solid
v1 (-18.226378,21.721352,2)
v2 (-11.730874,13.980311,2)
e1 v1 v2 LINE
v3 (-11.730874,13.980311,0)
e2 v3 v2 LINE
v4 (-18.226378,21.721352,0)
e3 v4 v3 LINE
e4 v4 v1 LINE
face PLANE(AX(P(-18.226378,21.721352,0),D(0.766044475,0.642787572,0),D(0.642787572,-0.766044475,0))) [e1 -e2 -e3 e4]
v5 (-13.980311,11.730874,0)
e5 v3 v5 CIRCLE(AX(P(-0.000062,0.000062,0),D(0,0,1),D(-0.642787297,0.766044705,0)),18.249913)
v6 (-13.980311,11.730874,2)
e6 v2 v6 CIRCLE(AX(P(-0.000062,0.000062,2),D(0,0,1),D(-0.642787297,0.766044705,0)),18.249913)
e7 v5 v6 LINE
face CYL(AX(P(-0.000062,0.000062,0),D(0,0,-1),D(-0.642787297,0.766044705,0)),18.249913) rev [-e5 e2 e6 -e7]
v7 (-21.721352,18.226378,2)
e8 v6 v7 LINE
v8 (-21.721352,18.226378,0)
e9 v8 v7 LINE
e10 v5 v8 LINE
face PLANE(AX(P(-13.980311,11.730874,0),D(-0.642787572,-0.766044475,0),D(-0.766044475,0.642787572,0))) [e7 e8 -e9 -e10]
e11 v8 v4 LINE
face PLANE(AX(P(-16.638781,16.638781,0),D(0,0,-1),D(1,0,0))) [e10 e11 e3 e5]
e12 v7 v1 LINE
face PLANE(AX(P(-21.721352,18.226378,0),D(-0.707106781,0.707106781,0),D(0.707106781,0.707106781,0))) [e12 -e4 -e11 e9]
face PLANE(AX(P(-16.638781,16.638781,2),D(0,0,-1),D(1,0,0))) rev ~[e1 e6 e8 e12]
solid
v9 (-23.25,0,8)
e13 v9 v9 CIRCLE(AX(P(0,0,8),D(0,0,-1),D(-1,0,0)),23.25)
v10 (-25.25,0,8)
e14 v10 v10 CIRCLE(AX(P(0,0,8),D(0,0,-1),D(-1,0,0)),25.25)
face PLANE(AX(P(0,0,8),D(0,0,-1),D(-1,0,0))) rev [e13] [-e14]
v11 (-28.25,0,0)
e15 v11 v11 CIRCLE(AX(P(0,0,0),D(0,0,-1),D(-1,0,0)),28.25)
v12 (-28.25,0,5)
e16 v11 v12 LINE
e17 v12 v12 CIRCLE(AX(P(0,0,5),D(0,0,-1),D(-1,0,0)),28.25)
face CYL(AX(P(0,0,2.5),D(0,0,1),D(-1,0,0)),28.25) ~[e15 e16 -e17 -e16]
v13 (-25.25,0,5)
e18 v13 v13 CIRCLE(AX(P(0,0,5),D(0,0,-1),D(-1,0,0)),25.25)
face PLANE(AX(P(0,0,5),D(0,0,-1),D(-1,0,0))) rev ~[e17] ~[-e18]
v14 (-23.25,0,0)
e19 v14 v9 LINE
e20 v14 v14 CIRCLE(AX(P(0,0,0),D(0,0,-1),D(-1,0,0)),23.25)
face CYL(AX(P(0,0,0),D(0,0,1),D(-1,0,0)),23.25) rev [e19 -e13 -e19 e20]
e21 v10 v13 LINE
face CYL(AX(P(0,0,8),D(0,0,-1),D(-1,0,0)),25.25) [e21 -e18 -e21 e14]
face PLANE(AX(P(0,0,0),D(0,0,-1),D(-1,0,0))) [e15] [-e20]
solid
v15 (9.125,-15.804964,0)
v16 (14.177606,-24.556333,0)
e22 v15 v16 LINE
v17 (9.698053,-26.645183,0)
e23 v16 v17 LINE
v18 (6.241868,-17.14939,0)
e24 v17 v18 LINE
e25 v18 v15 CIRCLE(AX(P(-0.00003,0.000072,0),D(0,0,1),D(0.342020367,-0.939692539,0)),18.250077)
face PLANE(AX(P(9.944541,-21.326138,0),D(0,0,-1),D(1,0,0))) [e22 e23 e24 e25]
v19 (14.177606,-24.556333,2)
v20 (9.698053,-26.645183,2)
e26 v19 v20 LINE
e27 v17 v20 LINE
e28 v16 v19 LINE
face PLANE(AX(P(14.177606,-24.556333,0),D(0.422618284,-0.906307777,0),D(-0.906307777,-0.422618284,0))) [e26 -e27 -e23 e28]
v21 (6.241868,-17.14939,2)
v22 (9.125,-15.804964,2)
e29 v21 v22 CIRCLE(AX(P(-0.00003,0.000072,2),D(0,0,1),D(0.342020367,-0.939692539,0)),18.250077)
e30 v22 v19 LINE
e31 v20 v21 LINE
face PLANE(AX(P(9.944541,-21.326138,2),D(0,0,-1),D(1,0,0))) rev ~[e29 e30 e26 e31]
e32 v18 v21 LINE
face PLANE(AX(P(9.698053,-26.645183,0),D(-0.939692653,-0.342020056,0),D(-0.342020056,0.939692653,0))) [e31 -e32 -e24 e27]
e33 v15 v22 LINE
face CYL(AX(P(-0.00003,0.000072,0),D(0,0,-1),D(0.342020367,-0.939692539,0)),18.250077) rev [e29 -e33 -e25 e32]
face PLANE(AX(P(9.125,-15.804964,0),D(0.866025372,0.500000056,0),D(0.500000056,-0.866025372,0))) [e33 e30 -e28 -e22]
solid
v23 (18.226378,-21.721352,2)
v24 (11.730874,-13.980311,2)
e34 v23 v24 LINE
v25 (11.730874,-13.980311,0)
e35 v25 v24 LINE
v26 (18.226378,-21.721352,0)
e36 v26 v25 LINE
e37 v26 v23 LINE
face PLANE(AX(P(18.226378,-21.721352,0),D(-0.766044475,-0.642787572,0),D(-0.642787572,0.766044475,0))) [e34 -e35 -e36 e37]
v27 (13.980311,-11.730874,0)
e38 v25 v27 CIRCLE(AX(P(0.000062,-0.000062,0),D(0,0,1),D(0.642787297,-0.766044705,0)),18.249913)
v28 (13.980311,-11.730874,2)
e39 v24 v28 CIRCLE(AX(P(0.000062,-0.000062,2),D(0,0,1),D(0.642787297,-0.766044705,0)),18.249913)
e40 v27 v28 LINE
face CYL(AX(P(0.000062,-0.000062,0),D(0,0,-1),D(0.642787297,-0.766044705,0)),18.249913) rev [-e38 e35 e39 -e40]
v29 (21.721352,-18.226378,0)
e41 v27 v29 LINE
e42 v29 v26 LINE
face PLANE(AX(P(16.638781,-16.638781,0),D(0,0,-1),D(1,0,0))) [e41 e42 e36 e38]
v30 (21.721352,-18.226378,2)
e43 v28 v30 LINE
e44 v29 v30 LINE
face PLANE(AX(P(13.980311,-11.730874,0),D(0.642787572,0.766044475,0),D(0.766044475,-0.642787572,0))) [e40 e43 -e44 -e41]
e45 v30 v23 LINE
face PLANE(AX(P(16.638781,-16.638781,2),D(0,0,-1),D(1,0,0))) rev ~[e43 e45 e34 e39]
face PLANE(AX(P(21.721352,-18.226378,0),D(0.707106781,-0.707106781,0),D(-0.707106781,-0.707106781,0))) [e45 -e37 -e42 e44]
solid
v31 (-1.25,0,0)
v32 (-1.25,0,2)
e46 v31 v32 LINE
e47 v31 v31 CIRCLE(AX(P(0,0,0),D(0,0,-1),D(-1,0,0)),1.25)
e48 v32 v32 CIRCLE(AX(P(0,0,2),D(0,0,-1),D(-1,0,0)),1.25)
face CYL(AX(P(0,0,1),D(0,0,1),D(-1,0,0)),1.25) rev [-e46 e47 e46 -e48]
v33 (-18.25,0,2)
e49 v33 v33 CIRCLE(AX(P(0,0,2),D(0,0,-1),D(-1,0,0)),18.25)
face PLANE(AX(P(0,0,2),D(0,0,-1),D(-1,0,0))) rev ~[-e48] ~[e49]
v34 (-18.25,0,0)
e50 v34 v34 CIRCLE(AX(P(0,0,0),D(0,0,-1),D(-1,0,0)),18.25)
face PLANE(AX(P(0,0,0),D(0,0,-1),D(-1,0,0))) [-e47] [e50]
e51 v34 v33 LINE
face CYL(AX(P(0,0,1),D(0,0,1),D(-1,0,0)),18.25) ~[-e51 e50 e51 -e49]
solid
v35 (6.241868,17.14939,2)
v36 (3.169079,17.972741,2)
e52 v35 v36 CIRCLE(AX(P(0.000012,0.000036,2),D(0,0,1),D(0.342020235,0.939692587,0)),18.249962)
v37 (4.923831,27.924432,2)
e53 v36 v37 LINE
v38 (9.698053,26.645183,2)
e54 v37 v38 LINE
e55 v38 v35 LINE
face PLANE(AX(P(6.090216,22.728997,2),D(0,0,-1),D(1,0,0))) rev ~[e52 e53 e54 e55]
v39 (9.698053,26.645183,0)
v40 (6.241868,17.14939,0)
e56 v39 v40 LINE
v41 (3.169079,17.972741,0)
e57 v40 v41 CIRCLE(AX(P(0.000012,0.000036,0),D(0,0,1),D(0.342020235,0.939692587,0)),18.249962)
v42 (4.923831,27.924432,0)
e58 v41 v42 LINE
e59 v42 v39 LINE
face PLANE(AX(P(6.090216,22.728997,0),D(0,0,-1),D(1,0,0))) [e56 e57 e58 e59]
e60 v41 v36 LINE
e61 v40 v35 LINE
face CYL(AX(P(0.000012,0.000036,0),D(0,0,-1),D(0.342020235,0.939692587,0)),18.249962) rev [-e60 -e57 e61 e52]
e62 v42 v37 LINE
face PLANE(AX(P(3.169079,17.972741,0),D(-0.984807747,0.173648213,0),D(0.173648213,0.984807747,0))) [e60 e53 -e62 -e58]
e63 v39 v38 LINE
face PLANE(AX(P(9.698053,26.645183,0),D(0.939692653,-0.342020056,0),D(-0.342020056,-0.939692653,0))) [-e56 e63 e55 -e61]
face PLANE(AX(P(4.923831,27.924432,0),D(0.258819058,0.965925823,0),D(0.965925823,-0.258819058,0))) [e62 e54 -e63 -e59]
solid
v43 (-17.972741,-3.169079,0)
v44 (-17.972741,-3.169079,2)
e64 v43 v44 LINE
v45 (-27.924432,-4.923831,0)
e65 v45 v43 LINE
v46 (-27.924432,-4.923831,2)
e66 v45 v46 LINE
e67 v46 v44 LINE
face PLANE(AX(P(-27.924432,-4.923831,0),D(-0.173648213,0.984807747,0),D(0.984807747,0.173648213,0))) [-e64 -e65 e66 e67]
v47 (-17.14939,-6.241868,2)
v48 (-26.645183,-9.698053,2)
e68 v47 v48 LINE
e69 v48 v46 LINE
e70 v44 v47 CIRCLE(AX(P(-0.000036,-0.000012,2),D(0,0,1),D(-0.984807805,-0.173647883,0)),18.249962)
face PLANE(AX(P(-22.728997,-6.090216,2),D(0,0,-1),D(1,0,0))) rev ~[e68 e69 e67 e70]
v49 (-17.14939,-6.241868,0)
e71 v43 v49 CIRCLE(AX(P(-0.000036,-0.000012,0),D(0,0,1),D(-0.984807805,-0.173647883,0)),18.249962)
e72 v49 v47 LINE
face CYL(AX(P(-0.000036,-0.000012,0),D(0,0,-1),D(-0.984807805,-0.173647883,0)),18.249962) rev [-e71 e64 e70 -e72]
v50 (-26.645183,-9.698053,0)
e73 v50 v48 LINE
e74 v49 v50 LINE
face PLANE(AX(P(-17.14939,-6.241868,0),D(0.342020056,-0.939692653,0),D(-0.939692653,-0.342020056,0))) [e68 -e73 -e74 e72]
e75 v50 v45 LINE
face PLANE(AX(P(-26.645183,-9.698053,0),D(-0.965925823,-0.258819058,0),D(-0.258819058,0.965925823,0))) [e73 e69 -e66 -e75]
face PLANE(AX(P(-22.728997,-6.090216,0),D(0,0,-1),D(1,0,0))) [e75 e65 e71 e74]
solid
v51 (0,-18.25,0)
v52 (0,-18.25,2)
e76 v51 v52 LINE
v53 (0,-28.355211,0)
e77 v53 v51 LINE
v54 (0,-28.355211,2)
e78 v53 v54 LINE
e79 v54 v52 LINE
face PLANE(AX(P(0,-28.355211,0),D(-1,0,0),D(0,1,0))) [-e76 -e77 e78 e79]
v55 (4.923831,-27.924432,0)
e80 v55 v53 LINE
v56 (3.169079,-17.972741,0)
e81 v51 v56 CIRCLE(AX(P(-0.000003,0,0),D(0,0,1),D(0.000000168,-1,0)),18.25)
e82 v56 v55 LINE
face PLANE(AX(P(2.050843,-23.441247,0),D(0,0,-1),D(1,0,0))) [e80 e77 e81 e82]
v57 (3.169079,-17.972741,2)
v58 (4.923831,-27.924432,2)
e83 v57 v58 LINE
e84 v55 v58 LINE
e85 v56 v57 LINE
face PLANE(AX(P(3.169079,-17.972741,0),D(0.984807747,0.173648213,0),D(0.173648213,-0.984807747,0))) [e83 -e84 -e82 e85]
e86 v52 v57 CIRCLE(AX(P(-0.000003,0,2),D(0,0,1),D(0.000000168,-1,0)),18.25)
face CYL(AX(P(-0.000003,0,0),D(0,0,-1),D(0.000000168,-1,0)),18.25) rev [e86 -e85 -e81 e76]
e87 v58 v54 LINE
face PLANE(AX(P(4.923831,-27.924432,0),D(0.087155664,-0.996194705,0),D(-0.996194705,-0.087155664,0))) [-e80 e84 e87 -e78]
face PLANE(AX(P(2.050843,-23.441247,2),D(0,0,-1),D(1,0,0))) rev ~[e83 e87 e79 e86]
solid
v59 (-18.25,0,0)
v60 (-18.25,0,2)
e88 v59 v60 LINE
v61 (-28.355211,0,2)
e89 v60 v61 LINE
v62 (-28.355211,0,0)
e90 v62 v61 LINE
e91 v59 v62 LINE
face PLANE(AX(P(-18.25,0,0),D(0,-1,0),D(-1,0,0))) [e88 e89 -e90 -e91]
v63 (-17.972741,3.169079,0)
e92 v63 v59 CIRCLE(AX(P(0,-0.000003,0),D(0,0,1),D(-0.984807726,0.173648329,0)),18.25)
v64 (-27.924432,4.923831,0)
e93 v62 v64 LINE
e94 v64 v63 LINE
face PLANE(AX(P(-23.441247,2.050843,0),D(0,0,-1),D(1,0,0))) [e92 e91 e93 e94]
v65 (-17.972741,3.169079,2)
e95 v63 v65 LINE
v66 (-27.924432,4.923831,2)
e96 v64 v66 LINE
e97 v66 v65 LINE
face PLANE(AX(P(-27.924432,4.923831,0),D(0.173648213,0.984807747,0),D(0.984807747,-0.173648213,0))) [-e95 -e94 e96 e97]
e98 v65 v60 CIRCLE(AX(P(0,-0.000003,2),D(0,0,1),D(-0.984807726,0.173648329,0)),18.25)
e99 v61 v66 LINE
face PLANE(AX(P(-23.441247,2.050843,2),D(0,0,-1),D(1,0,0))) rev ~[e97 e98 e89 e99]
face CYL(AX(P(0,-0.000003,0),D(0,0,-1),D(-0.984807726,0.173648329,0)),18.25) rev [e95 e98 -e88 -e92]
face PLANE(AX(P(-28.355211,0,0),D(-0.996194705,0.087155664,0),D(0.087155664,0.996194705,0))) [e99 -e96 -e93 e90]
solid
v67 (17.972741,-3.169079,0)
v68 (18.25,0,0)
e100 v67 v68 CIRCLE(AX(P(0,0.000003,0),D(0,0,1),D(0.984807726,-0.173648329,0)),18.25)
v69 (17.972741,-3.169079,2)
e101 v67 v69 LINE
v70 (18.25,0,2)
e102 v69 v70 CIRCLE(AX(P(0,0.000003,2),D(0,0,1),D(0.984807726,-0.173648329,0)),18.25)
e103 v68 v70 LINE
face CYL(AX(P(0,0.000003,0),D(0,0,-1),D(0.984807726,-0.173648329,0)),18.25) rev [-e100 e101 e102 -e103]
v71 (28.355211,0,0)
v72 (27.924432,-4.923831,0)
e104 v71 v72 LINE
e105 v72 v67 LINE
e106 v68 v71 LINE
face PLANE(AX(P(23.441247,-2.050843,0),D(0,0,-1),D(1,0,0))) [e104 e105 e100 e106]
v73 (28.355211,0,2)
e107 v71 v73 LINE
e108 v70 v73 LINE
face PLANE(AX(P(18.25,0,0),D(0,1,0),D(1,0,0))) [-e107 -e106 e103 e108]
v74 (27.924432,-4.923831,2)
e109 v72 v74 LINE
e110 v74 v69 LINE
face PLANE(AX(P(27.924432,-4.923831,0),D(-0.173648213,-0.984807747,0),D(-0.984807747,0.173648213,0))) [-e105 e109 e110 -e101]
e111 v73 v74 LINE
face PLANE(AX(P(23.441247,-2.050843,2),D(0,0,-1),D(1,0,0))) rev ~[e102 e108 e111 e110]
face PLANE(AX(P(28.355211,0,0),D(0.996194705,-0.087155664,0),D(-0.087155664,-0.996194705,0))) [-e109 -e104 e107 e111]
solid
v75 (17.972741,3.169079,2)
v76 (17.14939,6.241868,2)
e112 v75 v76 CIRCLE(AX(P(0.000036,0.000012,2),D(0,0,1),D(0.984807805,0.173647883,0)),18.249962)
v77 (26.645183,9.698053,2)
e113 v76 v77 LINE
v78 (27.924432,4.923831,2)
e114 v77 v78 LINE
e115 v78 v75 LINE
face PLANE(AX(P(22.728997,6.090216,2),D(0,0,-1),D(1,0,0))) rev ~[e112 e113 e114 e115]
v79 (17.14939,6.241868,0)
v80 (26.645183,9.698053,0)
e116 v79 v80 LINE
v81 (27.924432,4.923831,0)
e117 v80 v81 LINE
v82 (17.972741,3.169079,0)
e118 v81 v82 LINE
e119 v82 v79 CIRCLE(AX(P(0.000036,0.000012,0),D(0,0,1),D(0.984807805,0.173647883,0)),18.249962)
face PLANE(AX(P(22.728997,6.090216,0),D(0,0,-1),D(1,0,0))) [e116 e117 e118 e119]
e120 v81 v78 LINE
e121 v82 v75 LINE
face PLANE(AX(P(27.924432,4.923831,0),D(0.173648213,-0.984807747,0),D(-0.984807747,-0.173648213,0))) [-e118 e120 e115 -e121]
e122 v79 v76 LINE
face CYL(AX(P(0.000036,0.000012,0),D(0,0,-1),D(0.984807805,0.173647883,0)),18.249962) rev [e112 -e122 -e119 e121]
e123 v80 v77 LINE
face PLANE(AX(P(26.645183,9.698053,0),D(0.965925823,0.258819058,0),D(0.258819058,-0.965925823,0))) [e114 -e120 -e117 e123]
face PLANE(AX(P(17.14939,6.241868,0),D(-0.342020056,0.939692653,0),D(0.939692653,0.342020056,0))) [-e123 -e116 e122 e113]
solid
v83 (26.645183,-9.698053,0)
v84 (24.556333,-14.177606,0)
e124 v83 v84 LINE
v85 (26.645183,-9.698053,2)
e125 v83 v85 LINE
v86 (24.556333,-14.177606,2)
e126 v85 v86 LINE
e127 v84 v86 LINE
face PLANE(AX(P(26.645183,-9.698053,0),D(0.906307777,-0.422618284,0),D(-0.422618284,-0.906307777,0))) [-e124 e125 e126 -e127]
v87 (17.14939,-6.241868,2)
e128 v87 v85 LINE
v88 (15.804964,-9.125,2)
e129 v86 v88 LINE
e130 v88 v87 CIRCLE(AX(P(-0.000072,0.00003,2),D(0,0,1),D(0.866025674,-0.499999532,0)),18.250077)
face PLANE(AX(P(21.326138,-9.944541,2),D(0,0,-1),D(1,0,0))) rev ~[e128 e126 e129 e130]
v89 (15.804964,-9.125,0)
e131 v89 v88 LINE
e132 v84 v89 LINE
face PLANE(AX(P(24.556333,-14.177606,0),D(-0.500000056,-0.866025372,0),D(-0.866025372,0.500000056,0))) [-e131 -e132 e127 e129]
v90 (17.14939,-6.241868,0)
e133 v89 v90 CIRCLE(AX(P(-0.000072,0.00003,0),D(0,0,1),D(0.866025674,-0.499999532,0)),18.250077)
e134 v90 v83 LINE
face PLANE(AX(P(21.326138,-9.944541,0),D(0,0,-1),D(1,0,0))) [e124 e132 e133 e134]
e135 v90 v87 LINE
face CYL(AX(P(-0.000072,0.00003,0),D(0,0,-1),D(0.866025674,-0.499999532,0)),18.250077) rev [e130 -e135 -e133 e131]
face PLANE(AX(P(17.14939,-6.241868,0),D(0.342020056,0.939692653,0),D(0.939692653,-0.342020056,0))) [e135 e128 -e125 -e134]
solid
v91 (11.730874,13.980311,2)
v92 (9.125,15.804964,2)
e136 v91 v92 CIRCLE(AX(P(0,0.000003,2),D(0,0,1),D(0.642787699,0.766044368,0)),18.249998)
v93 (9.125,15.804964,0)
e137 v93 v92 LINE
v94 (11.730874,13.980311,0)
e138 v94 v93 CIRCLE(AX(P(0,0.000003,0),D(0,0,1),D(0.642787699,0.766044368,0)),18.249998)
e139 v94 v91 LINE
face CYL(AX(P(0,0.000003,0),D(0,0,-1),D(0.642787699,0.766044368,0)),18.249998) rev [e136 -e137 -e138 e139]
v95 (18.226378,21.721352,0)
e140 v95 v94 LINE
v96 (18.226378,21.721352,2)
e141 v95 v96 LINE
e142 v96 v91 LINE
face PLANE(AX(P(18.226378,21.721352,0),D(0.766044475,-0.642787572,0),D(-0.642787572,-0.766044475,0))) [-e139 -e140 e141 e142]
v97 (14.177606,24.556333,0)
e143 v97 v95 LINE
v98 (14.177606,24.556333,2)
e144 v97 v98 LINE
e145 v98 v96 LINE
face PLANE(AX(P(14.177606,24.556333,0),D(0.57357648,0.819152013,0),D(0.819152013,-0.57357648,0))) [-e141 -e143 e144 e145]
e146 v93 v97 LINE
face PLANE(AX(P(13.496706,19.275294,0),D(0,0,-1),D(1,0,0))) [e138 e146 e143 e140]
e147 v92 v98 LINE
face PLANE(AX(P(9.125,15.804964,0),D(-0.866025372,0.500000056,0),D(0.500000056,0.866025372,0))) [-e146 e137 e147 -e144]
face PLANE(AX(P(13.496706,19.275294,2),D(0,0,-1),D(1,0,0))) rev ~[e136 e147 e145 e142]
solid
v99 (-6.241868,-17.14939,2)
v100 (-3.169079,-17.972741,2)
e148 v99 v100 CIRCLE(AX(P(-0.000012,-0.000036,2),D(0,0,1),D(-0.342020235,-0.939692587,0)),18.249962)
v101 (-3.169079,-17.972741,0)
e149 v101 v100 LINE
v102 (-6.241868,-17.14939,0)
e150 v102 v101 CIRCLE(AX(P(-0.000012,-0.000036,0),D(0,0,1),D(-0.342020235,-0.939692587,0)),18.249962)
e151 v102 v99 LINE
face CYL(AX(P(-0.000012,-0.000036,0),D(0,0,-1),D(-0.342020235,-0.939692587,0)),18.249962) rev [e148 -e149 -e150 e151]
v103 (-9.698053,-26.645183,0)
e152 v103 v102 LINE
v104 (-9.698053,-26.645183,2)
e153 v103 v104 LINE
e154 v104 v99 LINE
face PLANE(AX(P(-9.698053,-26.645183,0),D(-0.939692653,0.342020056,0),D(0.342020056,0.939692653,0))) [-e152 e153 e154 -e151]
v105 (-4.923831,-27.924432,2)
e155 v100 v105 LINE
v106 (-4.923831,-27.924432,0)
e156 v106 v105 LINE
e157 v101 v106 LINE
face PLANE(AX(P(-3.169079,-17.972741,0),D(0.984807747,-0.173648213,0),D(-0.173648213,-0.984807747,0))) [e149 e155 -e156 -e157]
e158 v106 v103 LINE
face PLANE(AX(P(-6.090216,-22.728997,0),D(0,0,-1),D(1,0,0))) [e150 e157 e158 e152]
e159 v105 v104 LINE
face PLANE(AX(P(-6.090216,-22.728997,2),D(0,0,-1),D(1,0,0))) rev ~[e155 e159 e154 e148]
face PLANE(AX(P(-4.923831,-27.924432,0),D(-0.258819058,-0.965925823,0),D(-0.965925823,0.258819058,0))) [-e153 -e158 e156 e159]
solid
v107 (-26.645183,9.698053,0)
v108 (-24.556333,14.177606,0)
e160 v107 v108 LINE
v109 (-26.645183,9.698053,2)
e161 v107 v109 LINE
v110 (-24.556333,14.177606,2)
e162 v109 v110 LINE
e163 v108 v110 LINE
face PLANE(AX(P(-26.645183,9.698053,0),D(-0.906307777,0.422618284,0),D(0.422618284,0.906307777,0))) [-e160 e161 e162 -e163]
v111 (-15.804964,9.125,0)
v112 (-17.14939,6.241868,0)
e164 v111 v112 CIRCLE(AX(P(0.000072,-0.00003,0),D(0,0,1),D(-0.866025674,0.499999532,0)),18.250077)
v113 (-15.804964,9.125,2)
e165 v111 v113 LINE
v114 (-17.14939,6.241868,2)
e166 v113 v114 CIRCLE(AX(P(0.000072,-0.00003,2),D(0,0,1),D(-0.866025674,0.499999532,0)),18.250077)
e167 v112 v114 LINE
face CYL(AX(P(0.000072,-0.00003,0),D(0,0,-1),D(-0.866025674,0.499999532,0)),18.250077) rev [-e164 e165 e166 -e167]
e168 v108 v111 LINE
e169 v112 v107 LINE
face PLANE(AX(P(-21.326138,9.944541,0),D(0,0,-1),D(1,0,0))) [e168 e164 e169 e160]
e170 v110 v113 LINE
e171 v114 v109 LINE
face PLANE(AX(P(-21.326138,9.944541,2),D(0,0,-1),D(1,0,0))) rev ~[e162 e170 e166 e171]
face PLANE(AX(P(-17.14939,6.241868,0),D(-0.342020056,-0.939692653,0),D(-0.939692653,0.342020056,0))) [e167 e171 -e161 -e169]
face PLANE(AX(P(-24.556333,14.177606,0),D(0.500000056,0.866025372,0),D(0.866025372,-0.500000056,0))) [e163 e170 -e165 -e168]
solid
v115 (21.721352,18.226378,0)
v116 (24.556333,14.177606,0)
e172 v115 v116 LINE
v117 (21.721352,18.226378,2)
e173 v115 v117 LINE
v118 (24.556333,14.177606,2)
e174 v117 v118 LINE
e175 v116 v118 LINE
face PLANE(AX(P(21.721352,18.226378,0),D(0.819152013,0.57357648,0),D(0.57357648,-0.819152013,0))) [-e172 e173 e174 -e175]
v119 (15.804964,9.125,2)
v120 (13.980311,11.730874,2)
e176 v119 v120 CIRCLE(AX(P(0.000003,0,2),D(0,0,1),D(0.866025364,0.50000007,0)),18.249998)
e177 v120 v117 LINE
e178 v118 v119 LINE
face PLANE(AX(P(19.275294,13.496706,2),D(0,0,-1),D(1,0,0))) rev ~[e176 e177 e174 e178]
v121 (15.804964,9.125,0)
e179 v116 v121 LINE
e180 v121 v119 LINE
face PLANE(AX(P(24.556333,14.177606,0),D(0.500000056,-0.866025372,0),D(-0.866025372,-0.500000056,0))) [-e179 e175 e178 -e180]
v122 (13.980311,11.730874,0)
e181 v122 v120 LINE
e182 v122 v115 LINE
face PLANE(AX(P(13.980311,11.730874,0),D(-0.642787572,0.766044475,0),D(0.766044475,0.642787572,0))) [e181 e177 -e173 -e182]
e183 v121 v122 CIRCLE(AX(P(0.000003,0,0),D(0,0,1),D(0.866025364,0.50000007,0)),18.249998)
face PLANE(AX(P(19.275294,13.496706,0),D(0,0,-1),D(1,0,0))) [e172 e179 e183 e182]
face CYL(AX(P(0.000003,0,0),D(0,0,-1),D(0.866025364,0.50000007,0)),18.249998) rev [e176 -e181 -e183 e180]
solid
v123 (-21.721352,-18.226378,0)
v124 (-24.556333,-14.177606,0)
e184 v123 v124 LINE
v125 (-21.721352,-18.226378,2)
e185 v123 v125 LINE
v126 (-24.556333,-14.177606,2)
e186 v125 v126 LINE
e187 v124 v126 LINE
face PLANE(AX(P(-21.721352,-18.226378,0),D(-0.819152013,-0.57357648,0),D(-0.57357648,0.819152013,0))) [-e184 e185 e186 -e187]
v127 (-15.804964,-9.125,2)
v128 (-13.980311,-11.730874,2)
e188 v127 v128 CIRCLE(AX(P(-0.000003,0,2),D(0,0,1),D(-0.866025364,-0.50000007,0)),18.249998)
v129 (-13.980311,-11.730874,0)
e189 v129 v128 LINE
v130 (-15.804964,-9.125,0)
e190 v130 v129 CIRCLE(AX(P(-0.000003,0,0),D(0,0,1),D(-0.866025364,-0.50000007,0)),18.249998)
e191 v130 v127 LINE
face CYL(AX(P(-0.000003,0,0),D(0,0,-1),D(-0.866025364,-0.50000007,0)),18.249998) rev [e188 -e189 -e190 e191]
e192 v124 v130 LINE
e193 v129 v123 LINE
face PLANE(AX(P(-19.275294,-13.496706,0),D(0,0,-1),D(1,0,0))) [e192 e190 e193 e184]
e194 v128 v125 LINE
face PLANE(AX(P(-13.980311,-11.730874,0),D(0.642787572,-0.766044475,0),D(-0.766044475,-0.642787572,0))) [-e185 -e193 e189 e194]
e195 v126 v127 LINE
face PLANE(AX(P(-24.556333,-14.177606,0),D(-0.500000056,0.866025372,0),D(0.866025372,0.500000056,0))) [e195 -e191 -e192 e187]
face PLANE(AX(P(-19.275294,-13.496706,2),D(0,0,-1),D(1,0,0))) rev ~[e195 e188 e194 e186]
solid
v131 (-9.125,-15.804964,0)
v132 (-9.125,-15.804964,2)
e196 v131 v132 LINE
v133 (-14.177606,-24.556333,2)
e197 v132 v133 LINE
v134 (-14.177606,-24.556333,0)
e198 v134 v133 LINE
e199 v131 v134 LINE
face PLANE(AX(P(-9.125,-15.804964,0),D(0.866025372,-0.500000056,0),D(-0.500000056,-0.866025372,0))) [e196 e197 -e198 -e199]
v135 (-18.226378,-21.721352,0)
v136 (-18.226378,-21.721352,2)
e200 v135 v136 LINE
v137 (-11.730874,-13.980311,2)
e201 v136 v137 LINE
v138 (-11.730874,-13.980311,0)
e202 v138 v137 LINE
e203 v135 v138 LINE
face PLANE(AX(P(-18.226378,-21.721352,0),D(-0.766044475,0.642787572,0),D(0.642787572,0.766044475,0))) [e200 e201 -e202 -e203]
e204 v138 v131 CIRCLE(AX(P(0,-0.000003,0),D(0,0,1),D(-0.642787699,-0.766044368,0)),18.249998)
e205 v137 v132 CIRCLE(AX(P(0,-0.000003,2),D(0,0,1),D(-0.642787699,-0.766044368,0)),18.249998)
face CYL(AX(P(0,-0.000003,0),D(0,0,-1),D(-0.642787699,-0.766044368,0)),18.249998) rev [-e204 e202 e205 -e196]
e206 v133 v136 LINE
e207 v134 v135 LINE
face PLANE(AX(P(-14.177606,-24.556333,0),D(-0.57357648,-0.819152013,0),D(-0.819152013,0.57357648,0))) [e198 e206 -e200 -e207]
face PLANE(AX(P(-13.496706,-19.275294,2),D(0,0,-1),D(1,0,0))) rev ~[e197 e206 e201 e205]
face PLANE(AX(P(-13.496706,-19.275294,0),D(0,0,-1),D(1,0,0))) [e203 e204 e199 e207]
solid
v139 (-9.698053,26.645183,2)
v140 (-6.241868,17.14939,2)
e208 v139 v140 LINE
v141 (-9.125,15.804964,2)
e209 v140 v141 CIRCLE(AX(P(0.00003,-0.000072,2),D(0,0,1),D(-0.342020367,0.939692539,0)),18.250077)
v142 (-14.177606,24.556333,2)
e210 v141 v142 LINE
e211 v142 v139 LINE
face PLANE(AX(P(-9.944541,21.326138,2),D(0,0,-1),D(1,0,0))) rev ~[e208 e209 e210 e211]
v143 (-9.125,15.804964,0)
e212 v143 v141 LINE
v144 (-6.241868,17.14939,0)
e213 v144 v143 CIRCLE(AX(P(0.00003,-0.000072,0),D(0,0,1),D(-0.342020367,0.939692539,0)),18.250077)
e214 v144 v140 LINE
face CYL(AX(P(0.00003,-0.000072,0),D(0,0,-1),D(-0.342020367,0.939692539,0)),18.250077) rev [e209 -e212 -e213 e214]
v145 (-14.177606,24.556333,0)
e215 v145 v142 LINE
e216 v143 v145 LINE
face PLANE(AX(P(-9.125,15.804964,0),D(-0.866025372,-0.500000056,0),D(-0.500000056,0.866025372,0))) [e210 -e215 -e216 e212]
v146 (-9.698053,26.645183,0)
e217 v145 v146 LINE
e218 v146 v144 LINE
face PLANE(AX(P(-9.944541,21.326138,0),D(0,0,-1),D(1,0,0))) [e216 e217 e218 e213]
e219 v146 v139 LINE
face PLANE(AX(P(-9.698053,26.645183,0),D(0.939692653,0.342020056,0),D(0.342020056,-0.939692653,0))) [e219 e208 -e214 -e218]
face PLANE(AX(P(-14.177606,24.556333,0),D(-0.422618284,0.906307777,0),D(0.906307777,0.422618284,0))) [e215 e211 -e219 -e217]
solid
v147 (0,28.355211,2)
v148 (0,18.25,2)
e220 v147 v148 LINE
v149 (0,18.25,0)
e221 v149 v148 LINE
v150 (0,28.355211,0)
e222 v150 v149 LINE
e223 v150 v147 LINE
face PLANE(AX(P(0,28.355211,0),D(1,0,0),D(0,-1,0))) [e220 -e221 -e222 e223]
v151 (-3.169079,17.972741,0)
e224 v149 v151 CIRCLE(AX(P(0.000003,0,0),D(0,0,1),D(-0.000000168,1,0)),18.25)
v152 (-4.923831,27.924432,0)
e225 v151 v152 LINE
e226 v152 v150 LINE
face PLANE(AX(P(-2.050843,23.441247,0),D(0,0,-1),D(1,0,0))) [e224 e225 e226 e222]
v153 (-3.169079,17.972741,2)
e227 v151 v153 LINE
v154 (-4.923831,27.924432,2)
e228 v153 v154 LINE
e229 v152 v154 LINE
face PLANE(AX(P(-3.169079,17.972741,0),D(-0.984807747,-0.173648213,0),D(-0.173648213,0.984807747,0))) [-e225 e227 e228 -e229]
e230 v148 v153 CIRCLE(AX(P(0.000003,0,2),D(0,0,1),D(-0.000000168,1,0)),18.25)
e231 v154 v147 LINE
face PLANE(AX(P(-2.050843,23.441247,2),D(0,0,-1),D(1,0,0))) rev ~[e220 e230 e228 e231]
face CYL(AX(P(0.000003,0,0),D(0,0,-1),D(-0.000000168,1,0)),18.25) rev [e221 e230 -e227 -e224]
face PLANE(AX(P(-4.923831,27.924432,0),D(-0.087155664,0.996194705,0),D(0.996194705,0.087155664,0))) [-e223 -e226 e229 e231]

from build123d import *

# Parameters (mm, degrees)
F0_W     = 17
F0_H     = 2
F0_W_2   = 3
F0_H_2   = 5
F3_DEPTH = 2


with BuildPart() as f1:
    # F0 (on Front) → F1 (revolve)
    with BuildSketch(Plane.XZ):
        with Locations((-9.75, 1)):
            Rectangle(F0_W, F0_H)
        Polygon((-25.25, 0), (-23.25, 0), (-23.25, 8), (-25.25, 8), (-25.25, 5), align=None)
        with Locations((-26.75, 2.5)):
            Rectangle(F0_W_2, F0_H_2)
    revolve(axis=Axis((0, 0, -5.287794), (0, 0, -1)))


with BuildPart() as f3:
    # F2 (on face) → F3 (new body)
    with BuildSketch(Plane(origin=(0, 0, 0), x_dir=(1, 0, 0), z_dir=(0, 0, -1))):
        with BuildLine():
            ThreePointArc((11.730874, -13.980311), (10.46777, -14.949525), (9.125, -15.804964))
            Line((9.125, -15.804964), (14.177606, -24.556333))
            Line((14.177606, -24.556333), (18.226378, -21.721352))
            Line((18.226378, -21.721352), (11.730874, -13.980311))
        make_face()
        with BuildLine():
            ThreePointArc((6.241868, -17.14939), (4.723448, -17.628146), (3.169079, -17.972741))
            Line((3.169079, -17.972741), (4.923831, -27.924432))
            Line((4.923831, -27.924432), (9.698053, -26.645183))
            Line((9.698053, -26.645183), (6.241868, -17.14939))
        make_face()
        with BuildLine():
            Line((0, -28.355211), (0, -18.25))
            ThreePointArc((0, -18.25), (-1.590592, -18.180553), (-3.169079, -17.972741))
            Line((-3.169079, -17.972741), (-4.923831, -27.924432))
            Line((-4.923831, -27.924432), (0, -28.355211))
        make_face()
        with BuildLine():
            Line((-9.698053, -26.645183), (-6.241868, -17.14939))
            ThreePointArc((-6.241868, -17.14939), (-7.712783, -16.540117), (-9.125, -15.804964))
            Line((-9.125, -15.804964), (-14.177606, -24.556333))
            Line((-14.177606, -24.556333), (-9.698053, -26.645183))
        make_face()
        with BuildLine():
            Line((-18.226378, -21.721352), (-11.730874, -13.980311))
            ThreePointArc((-11.730874, -13.980311), (-12.904699, -12.904699), (-13.980311, -11.730874))
            Line((-13.980311, -11.730874), (-21.721352, -18.226378))
            Line((-21.721352, -18.226378), (-18.226378, -21.721352))
        make_face()
        with BuildLine():
            Line((-24.556333, -14.177606), (-15.804964, -9.125))
            ThreePointArc((-15.804964, -9.125), (-16.540117, -7.712783), (-17.14939, -6.241868))
            Line((-17.14939, -6.241868), (-26.645183, -9.698053))
            Line((-26.645183, -9.698053), (-24.556333, -14.177606))
        make_face()
        with BuildLine():
            Line((-27.924432, -4.923831), (-17.972741, -3.169079))
            ThreePointArc((-17.972741, -3.169079), (-18.180553, -1.590592), (-18.25, 0))
            Line((-18.25, 0), (-28.355211, 0))
            Line((-28.355211, 0), (-27.924432, -4.923831))
        make_face()
        with BuildLine():
            Line((-27.924432, 4.923831), (-17.972741, 3.169079))
            ThreePointArc((-17.972741, 3.169079), (-17.628146, 4.723448), (-17.14939, 6.241868))
            Line((-17.14939, 6.241868), (-26.645183, 9.698053))
            Line((-26.645183, 9.698053), (-27.924432, 4.923831))
        make_face()
        with BuildLine():
            Line((-24.556333, 14.177606), (-15.804964, 9.125))
            ThreePointArc((-15.804964, 9.125), (-14.949525, 10.46777), (-13.980311, 11.730874))
            Line((-13.980311, 11.730874), (-21.721352, 18.226378))
            Line((-21.721352, 18.226378), (-24.556333, 14.177606))
        make_face()
        with BuildLine():
            Line((-18.226378, 21.721352), (-11.730874, 13.980311))
            ThreePointArc((-11.730874, 13.980311), (-10.46777, 14.949525), (-9.125, 15.804964))
            Line((-9.125, 15.804964), (-14.177606, 24.556333))
            Line((-14.177606, 24.556333), (-18.226378, 21.721352))
        make_face()
        with BuildLine():
            Line((-9.698053, 26.645183), (-6.241868, 17.14939))
            ThreePointArc((-6.241868, 17.14939), (-4.723448, 17.628146), (-3.169079, 17.972741))
            Line((-3.169079, 17.972741), (-4.923831, 27.924432))
            Line((-4.923831, 27.924432), (-9.698053, 26.645183))
        make_face()
        with BuildLine():
            ThreePointArc((0, 18.25), (1.590592, 18.180553), (3.169079, 17.972741))
            Line((3.169079, 17.972741), (4.923831, 27.924432))
            Line((4.923831, 27.924432), (0, 28.355211))
            Line((0, 28.355211), (0, 18.25))
        make_face()
        with BuildLine():
            ThreePointArc((6.241868, 17.14939), (7.712783, 16.540117), (9.125, 15.804964))
            Line((9.125, 15.804964), (14.177606, 24.556333))
            Line((14.177606, 24.556333), (9.698053, 26.645183))
            Line((9.698053, 26.645183), (6.241868, 17.14939))
        make_face()
        with BuildLine():
            ThreePointArc((11.730874, 13.980311), (12.904699, 12.904699), (13.980311, 11.730874))
            Line((13.980311, 11.730874), (21.721352, 18.226378))
            Line((21.721352, 18.226378), (18.226378, 21.721352))
            Line((18.226378, 21.721352), (11.730874, 13.980311))
        make_face()
        with BuildLine():
            ThreePointArc((15.804964, 9.125), (16.540117, 7.712783), (17.14939, 6.241868))
            Line((17.14939, 6.241868), (26.645183, 9.698053))
            Line((26.645183, 9.698053), (24.556333, 14.177606))
            Line((24.556333, 14.177606), (15.804964, 9.125))
        make_face()
        with BuildLine():
            ThreePointArc((17.972741, 3.169079), (18.180553, 1.590592), (18.25, 0))
            Line((18.25, 0), (28.355211, 0))
            Line((28.355211, 0), (27.924432, 4.923831))
            Line((27.924432, 4.923831), (17.972741, 3.169079))
        make_face()
        with BuildLine():
            ThreePointArc((17.972741, -3.169079), (17.628146, -4.723448), (17.14939, -6.241868))
            Line((17.14939, -6.241868), (26.645183, -9.698053))
            Line((26.645183, -9.698053), (27.924432, -4.923831))
            Line((27.924432, -4.923831), (17.972741, -3.169079))
        make_face()
        with BuildLine():
            ThreePointArc((15.804964, -9.125), (14.949525, -10.46777), (13.980311, -11.730874))
            Line((13.980311, -11.730874), (21.721352, -18.226378))
            Line((21.721352, -18.226378), (24.556333, -14.177606))
            Line((24.556333, -14.177606), (15.804964, -9.125))
        make_face()
    extrude(amount=-F3_DEPTH)


solid = Compound([f1.part, f3.part])
